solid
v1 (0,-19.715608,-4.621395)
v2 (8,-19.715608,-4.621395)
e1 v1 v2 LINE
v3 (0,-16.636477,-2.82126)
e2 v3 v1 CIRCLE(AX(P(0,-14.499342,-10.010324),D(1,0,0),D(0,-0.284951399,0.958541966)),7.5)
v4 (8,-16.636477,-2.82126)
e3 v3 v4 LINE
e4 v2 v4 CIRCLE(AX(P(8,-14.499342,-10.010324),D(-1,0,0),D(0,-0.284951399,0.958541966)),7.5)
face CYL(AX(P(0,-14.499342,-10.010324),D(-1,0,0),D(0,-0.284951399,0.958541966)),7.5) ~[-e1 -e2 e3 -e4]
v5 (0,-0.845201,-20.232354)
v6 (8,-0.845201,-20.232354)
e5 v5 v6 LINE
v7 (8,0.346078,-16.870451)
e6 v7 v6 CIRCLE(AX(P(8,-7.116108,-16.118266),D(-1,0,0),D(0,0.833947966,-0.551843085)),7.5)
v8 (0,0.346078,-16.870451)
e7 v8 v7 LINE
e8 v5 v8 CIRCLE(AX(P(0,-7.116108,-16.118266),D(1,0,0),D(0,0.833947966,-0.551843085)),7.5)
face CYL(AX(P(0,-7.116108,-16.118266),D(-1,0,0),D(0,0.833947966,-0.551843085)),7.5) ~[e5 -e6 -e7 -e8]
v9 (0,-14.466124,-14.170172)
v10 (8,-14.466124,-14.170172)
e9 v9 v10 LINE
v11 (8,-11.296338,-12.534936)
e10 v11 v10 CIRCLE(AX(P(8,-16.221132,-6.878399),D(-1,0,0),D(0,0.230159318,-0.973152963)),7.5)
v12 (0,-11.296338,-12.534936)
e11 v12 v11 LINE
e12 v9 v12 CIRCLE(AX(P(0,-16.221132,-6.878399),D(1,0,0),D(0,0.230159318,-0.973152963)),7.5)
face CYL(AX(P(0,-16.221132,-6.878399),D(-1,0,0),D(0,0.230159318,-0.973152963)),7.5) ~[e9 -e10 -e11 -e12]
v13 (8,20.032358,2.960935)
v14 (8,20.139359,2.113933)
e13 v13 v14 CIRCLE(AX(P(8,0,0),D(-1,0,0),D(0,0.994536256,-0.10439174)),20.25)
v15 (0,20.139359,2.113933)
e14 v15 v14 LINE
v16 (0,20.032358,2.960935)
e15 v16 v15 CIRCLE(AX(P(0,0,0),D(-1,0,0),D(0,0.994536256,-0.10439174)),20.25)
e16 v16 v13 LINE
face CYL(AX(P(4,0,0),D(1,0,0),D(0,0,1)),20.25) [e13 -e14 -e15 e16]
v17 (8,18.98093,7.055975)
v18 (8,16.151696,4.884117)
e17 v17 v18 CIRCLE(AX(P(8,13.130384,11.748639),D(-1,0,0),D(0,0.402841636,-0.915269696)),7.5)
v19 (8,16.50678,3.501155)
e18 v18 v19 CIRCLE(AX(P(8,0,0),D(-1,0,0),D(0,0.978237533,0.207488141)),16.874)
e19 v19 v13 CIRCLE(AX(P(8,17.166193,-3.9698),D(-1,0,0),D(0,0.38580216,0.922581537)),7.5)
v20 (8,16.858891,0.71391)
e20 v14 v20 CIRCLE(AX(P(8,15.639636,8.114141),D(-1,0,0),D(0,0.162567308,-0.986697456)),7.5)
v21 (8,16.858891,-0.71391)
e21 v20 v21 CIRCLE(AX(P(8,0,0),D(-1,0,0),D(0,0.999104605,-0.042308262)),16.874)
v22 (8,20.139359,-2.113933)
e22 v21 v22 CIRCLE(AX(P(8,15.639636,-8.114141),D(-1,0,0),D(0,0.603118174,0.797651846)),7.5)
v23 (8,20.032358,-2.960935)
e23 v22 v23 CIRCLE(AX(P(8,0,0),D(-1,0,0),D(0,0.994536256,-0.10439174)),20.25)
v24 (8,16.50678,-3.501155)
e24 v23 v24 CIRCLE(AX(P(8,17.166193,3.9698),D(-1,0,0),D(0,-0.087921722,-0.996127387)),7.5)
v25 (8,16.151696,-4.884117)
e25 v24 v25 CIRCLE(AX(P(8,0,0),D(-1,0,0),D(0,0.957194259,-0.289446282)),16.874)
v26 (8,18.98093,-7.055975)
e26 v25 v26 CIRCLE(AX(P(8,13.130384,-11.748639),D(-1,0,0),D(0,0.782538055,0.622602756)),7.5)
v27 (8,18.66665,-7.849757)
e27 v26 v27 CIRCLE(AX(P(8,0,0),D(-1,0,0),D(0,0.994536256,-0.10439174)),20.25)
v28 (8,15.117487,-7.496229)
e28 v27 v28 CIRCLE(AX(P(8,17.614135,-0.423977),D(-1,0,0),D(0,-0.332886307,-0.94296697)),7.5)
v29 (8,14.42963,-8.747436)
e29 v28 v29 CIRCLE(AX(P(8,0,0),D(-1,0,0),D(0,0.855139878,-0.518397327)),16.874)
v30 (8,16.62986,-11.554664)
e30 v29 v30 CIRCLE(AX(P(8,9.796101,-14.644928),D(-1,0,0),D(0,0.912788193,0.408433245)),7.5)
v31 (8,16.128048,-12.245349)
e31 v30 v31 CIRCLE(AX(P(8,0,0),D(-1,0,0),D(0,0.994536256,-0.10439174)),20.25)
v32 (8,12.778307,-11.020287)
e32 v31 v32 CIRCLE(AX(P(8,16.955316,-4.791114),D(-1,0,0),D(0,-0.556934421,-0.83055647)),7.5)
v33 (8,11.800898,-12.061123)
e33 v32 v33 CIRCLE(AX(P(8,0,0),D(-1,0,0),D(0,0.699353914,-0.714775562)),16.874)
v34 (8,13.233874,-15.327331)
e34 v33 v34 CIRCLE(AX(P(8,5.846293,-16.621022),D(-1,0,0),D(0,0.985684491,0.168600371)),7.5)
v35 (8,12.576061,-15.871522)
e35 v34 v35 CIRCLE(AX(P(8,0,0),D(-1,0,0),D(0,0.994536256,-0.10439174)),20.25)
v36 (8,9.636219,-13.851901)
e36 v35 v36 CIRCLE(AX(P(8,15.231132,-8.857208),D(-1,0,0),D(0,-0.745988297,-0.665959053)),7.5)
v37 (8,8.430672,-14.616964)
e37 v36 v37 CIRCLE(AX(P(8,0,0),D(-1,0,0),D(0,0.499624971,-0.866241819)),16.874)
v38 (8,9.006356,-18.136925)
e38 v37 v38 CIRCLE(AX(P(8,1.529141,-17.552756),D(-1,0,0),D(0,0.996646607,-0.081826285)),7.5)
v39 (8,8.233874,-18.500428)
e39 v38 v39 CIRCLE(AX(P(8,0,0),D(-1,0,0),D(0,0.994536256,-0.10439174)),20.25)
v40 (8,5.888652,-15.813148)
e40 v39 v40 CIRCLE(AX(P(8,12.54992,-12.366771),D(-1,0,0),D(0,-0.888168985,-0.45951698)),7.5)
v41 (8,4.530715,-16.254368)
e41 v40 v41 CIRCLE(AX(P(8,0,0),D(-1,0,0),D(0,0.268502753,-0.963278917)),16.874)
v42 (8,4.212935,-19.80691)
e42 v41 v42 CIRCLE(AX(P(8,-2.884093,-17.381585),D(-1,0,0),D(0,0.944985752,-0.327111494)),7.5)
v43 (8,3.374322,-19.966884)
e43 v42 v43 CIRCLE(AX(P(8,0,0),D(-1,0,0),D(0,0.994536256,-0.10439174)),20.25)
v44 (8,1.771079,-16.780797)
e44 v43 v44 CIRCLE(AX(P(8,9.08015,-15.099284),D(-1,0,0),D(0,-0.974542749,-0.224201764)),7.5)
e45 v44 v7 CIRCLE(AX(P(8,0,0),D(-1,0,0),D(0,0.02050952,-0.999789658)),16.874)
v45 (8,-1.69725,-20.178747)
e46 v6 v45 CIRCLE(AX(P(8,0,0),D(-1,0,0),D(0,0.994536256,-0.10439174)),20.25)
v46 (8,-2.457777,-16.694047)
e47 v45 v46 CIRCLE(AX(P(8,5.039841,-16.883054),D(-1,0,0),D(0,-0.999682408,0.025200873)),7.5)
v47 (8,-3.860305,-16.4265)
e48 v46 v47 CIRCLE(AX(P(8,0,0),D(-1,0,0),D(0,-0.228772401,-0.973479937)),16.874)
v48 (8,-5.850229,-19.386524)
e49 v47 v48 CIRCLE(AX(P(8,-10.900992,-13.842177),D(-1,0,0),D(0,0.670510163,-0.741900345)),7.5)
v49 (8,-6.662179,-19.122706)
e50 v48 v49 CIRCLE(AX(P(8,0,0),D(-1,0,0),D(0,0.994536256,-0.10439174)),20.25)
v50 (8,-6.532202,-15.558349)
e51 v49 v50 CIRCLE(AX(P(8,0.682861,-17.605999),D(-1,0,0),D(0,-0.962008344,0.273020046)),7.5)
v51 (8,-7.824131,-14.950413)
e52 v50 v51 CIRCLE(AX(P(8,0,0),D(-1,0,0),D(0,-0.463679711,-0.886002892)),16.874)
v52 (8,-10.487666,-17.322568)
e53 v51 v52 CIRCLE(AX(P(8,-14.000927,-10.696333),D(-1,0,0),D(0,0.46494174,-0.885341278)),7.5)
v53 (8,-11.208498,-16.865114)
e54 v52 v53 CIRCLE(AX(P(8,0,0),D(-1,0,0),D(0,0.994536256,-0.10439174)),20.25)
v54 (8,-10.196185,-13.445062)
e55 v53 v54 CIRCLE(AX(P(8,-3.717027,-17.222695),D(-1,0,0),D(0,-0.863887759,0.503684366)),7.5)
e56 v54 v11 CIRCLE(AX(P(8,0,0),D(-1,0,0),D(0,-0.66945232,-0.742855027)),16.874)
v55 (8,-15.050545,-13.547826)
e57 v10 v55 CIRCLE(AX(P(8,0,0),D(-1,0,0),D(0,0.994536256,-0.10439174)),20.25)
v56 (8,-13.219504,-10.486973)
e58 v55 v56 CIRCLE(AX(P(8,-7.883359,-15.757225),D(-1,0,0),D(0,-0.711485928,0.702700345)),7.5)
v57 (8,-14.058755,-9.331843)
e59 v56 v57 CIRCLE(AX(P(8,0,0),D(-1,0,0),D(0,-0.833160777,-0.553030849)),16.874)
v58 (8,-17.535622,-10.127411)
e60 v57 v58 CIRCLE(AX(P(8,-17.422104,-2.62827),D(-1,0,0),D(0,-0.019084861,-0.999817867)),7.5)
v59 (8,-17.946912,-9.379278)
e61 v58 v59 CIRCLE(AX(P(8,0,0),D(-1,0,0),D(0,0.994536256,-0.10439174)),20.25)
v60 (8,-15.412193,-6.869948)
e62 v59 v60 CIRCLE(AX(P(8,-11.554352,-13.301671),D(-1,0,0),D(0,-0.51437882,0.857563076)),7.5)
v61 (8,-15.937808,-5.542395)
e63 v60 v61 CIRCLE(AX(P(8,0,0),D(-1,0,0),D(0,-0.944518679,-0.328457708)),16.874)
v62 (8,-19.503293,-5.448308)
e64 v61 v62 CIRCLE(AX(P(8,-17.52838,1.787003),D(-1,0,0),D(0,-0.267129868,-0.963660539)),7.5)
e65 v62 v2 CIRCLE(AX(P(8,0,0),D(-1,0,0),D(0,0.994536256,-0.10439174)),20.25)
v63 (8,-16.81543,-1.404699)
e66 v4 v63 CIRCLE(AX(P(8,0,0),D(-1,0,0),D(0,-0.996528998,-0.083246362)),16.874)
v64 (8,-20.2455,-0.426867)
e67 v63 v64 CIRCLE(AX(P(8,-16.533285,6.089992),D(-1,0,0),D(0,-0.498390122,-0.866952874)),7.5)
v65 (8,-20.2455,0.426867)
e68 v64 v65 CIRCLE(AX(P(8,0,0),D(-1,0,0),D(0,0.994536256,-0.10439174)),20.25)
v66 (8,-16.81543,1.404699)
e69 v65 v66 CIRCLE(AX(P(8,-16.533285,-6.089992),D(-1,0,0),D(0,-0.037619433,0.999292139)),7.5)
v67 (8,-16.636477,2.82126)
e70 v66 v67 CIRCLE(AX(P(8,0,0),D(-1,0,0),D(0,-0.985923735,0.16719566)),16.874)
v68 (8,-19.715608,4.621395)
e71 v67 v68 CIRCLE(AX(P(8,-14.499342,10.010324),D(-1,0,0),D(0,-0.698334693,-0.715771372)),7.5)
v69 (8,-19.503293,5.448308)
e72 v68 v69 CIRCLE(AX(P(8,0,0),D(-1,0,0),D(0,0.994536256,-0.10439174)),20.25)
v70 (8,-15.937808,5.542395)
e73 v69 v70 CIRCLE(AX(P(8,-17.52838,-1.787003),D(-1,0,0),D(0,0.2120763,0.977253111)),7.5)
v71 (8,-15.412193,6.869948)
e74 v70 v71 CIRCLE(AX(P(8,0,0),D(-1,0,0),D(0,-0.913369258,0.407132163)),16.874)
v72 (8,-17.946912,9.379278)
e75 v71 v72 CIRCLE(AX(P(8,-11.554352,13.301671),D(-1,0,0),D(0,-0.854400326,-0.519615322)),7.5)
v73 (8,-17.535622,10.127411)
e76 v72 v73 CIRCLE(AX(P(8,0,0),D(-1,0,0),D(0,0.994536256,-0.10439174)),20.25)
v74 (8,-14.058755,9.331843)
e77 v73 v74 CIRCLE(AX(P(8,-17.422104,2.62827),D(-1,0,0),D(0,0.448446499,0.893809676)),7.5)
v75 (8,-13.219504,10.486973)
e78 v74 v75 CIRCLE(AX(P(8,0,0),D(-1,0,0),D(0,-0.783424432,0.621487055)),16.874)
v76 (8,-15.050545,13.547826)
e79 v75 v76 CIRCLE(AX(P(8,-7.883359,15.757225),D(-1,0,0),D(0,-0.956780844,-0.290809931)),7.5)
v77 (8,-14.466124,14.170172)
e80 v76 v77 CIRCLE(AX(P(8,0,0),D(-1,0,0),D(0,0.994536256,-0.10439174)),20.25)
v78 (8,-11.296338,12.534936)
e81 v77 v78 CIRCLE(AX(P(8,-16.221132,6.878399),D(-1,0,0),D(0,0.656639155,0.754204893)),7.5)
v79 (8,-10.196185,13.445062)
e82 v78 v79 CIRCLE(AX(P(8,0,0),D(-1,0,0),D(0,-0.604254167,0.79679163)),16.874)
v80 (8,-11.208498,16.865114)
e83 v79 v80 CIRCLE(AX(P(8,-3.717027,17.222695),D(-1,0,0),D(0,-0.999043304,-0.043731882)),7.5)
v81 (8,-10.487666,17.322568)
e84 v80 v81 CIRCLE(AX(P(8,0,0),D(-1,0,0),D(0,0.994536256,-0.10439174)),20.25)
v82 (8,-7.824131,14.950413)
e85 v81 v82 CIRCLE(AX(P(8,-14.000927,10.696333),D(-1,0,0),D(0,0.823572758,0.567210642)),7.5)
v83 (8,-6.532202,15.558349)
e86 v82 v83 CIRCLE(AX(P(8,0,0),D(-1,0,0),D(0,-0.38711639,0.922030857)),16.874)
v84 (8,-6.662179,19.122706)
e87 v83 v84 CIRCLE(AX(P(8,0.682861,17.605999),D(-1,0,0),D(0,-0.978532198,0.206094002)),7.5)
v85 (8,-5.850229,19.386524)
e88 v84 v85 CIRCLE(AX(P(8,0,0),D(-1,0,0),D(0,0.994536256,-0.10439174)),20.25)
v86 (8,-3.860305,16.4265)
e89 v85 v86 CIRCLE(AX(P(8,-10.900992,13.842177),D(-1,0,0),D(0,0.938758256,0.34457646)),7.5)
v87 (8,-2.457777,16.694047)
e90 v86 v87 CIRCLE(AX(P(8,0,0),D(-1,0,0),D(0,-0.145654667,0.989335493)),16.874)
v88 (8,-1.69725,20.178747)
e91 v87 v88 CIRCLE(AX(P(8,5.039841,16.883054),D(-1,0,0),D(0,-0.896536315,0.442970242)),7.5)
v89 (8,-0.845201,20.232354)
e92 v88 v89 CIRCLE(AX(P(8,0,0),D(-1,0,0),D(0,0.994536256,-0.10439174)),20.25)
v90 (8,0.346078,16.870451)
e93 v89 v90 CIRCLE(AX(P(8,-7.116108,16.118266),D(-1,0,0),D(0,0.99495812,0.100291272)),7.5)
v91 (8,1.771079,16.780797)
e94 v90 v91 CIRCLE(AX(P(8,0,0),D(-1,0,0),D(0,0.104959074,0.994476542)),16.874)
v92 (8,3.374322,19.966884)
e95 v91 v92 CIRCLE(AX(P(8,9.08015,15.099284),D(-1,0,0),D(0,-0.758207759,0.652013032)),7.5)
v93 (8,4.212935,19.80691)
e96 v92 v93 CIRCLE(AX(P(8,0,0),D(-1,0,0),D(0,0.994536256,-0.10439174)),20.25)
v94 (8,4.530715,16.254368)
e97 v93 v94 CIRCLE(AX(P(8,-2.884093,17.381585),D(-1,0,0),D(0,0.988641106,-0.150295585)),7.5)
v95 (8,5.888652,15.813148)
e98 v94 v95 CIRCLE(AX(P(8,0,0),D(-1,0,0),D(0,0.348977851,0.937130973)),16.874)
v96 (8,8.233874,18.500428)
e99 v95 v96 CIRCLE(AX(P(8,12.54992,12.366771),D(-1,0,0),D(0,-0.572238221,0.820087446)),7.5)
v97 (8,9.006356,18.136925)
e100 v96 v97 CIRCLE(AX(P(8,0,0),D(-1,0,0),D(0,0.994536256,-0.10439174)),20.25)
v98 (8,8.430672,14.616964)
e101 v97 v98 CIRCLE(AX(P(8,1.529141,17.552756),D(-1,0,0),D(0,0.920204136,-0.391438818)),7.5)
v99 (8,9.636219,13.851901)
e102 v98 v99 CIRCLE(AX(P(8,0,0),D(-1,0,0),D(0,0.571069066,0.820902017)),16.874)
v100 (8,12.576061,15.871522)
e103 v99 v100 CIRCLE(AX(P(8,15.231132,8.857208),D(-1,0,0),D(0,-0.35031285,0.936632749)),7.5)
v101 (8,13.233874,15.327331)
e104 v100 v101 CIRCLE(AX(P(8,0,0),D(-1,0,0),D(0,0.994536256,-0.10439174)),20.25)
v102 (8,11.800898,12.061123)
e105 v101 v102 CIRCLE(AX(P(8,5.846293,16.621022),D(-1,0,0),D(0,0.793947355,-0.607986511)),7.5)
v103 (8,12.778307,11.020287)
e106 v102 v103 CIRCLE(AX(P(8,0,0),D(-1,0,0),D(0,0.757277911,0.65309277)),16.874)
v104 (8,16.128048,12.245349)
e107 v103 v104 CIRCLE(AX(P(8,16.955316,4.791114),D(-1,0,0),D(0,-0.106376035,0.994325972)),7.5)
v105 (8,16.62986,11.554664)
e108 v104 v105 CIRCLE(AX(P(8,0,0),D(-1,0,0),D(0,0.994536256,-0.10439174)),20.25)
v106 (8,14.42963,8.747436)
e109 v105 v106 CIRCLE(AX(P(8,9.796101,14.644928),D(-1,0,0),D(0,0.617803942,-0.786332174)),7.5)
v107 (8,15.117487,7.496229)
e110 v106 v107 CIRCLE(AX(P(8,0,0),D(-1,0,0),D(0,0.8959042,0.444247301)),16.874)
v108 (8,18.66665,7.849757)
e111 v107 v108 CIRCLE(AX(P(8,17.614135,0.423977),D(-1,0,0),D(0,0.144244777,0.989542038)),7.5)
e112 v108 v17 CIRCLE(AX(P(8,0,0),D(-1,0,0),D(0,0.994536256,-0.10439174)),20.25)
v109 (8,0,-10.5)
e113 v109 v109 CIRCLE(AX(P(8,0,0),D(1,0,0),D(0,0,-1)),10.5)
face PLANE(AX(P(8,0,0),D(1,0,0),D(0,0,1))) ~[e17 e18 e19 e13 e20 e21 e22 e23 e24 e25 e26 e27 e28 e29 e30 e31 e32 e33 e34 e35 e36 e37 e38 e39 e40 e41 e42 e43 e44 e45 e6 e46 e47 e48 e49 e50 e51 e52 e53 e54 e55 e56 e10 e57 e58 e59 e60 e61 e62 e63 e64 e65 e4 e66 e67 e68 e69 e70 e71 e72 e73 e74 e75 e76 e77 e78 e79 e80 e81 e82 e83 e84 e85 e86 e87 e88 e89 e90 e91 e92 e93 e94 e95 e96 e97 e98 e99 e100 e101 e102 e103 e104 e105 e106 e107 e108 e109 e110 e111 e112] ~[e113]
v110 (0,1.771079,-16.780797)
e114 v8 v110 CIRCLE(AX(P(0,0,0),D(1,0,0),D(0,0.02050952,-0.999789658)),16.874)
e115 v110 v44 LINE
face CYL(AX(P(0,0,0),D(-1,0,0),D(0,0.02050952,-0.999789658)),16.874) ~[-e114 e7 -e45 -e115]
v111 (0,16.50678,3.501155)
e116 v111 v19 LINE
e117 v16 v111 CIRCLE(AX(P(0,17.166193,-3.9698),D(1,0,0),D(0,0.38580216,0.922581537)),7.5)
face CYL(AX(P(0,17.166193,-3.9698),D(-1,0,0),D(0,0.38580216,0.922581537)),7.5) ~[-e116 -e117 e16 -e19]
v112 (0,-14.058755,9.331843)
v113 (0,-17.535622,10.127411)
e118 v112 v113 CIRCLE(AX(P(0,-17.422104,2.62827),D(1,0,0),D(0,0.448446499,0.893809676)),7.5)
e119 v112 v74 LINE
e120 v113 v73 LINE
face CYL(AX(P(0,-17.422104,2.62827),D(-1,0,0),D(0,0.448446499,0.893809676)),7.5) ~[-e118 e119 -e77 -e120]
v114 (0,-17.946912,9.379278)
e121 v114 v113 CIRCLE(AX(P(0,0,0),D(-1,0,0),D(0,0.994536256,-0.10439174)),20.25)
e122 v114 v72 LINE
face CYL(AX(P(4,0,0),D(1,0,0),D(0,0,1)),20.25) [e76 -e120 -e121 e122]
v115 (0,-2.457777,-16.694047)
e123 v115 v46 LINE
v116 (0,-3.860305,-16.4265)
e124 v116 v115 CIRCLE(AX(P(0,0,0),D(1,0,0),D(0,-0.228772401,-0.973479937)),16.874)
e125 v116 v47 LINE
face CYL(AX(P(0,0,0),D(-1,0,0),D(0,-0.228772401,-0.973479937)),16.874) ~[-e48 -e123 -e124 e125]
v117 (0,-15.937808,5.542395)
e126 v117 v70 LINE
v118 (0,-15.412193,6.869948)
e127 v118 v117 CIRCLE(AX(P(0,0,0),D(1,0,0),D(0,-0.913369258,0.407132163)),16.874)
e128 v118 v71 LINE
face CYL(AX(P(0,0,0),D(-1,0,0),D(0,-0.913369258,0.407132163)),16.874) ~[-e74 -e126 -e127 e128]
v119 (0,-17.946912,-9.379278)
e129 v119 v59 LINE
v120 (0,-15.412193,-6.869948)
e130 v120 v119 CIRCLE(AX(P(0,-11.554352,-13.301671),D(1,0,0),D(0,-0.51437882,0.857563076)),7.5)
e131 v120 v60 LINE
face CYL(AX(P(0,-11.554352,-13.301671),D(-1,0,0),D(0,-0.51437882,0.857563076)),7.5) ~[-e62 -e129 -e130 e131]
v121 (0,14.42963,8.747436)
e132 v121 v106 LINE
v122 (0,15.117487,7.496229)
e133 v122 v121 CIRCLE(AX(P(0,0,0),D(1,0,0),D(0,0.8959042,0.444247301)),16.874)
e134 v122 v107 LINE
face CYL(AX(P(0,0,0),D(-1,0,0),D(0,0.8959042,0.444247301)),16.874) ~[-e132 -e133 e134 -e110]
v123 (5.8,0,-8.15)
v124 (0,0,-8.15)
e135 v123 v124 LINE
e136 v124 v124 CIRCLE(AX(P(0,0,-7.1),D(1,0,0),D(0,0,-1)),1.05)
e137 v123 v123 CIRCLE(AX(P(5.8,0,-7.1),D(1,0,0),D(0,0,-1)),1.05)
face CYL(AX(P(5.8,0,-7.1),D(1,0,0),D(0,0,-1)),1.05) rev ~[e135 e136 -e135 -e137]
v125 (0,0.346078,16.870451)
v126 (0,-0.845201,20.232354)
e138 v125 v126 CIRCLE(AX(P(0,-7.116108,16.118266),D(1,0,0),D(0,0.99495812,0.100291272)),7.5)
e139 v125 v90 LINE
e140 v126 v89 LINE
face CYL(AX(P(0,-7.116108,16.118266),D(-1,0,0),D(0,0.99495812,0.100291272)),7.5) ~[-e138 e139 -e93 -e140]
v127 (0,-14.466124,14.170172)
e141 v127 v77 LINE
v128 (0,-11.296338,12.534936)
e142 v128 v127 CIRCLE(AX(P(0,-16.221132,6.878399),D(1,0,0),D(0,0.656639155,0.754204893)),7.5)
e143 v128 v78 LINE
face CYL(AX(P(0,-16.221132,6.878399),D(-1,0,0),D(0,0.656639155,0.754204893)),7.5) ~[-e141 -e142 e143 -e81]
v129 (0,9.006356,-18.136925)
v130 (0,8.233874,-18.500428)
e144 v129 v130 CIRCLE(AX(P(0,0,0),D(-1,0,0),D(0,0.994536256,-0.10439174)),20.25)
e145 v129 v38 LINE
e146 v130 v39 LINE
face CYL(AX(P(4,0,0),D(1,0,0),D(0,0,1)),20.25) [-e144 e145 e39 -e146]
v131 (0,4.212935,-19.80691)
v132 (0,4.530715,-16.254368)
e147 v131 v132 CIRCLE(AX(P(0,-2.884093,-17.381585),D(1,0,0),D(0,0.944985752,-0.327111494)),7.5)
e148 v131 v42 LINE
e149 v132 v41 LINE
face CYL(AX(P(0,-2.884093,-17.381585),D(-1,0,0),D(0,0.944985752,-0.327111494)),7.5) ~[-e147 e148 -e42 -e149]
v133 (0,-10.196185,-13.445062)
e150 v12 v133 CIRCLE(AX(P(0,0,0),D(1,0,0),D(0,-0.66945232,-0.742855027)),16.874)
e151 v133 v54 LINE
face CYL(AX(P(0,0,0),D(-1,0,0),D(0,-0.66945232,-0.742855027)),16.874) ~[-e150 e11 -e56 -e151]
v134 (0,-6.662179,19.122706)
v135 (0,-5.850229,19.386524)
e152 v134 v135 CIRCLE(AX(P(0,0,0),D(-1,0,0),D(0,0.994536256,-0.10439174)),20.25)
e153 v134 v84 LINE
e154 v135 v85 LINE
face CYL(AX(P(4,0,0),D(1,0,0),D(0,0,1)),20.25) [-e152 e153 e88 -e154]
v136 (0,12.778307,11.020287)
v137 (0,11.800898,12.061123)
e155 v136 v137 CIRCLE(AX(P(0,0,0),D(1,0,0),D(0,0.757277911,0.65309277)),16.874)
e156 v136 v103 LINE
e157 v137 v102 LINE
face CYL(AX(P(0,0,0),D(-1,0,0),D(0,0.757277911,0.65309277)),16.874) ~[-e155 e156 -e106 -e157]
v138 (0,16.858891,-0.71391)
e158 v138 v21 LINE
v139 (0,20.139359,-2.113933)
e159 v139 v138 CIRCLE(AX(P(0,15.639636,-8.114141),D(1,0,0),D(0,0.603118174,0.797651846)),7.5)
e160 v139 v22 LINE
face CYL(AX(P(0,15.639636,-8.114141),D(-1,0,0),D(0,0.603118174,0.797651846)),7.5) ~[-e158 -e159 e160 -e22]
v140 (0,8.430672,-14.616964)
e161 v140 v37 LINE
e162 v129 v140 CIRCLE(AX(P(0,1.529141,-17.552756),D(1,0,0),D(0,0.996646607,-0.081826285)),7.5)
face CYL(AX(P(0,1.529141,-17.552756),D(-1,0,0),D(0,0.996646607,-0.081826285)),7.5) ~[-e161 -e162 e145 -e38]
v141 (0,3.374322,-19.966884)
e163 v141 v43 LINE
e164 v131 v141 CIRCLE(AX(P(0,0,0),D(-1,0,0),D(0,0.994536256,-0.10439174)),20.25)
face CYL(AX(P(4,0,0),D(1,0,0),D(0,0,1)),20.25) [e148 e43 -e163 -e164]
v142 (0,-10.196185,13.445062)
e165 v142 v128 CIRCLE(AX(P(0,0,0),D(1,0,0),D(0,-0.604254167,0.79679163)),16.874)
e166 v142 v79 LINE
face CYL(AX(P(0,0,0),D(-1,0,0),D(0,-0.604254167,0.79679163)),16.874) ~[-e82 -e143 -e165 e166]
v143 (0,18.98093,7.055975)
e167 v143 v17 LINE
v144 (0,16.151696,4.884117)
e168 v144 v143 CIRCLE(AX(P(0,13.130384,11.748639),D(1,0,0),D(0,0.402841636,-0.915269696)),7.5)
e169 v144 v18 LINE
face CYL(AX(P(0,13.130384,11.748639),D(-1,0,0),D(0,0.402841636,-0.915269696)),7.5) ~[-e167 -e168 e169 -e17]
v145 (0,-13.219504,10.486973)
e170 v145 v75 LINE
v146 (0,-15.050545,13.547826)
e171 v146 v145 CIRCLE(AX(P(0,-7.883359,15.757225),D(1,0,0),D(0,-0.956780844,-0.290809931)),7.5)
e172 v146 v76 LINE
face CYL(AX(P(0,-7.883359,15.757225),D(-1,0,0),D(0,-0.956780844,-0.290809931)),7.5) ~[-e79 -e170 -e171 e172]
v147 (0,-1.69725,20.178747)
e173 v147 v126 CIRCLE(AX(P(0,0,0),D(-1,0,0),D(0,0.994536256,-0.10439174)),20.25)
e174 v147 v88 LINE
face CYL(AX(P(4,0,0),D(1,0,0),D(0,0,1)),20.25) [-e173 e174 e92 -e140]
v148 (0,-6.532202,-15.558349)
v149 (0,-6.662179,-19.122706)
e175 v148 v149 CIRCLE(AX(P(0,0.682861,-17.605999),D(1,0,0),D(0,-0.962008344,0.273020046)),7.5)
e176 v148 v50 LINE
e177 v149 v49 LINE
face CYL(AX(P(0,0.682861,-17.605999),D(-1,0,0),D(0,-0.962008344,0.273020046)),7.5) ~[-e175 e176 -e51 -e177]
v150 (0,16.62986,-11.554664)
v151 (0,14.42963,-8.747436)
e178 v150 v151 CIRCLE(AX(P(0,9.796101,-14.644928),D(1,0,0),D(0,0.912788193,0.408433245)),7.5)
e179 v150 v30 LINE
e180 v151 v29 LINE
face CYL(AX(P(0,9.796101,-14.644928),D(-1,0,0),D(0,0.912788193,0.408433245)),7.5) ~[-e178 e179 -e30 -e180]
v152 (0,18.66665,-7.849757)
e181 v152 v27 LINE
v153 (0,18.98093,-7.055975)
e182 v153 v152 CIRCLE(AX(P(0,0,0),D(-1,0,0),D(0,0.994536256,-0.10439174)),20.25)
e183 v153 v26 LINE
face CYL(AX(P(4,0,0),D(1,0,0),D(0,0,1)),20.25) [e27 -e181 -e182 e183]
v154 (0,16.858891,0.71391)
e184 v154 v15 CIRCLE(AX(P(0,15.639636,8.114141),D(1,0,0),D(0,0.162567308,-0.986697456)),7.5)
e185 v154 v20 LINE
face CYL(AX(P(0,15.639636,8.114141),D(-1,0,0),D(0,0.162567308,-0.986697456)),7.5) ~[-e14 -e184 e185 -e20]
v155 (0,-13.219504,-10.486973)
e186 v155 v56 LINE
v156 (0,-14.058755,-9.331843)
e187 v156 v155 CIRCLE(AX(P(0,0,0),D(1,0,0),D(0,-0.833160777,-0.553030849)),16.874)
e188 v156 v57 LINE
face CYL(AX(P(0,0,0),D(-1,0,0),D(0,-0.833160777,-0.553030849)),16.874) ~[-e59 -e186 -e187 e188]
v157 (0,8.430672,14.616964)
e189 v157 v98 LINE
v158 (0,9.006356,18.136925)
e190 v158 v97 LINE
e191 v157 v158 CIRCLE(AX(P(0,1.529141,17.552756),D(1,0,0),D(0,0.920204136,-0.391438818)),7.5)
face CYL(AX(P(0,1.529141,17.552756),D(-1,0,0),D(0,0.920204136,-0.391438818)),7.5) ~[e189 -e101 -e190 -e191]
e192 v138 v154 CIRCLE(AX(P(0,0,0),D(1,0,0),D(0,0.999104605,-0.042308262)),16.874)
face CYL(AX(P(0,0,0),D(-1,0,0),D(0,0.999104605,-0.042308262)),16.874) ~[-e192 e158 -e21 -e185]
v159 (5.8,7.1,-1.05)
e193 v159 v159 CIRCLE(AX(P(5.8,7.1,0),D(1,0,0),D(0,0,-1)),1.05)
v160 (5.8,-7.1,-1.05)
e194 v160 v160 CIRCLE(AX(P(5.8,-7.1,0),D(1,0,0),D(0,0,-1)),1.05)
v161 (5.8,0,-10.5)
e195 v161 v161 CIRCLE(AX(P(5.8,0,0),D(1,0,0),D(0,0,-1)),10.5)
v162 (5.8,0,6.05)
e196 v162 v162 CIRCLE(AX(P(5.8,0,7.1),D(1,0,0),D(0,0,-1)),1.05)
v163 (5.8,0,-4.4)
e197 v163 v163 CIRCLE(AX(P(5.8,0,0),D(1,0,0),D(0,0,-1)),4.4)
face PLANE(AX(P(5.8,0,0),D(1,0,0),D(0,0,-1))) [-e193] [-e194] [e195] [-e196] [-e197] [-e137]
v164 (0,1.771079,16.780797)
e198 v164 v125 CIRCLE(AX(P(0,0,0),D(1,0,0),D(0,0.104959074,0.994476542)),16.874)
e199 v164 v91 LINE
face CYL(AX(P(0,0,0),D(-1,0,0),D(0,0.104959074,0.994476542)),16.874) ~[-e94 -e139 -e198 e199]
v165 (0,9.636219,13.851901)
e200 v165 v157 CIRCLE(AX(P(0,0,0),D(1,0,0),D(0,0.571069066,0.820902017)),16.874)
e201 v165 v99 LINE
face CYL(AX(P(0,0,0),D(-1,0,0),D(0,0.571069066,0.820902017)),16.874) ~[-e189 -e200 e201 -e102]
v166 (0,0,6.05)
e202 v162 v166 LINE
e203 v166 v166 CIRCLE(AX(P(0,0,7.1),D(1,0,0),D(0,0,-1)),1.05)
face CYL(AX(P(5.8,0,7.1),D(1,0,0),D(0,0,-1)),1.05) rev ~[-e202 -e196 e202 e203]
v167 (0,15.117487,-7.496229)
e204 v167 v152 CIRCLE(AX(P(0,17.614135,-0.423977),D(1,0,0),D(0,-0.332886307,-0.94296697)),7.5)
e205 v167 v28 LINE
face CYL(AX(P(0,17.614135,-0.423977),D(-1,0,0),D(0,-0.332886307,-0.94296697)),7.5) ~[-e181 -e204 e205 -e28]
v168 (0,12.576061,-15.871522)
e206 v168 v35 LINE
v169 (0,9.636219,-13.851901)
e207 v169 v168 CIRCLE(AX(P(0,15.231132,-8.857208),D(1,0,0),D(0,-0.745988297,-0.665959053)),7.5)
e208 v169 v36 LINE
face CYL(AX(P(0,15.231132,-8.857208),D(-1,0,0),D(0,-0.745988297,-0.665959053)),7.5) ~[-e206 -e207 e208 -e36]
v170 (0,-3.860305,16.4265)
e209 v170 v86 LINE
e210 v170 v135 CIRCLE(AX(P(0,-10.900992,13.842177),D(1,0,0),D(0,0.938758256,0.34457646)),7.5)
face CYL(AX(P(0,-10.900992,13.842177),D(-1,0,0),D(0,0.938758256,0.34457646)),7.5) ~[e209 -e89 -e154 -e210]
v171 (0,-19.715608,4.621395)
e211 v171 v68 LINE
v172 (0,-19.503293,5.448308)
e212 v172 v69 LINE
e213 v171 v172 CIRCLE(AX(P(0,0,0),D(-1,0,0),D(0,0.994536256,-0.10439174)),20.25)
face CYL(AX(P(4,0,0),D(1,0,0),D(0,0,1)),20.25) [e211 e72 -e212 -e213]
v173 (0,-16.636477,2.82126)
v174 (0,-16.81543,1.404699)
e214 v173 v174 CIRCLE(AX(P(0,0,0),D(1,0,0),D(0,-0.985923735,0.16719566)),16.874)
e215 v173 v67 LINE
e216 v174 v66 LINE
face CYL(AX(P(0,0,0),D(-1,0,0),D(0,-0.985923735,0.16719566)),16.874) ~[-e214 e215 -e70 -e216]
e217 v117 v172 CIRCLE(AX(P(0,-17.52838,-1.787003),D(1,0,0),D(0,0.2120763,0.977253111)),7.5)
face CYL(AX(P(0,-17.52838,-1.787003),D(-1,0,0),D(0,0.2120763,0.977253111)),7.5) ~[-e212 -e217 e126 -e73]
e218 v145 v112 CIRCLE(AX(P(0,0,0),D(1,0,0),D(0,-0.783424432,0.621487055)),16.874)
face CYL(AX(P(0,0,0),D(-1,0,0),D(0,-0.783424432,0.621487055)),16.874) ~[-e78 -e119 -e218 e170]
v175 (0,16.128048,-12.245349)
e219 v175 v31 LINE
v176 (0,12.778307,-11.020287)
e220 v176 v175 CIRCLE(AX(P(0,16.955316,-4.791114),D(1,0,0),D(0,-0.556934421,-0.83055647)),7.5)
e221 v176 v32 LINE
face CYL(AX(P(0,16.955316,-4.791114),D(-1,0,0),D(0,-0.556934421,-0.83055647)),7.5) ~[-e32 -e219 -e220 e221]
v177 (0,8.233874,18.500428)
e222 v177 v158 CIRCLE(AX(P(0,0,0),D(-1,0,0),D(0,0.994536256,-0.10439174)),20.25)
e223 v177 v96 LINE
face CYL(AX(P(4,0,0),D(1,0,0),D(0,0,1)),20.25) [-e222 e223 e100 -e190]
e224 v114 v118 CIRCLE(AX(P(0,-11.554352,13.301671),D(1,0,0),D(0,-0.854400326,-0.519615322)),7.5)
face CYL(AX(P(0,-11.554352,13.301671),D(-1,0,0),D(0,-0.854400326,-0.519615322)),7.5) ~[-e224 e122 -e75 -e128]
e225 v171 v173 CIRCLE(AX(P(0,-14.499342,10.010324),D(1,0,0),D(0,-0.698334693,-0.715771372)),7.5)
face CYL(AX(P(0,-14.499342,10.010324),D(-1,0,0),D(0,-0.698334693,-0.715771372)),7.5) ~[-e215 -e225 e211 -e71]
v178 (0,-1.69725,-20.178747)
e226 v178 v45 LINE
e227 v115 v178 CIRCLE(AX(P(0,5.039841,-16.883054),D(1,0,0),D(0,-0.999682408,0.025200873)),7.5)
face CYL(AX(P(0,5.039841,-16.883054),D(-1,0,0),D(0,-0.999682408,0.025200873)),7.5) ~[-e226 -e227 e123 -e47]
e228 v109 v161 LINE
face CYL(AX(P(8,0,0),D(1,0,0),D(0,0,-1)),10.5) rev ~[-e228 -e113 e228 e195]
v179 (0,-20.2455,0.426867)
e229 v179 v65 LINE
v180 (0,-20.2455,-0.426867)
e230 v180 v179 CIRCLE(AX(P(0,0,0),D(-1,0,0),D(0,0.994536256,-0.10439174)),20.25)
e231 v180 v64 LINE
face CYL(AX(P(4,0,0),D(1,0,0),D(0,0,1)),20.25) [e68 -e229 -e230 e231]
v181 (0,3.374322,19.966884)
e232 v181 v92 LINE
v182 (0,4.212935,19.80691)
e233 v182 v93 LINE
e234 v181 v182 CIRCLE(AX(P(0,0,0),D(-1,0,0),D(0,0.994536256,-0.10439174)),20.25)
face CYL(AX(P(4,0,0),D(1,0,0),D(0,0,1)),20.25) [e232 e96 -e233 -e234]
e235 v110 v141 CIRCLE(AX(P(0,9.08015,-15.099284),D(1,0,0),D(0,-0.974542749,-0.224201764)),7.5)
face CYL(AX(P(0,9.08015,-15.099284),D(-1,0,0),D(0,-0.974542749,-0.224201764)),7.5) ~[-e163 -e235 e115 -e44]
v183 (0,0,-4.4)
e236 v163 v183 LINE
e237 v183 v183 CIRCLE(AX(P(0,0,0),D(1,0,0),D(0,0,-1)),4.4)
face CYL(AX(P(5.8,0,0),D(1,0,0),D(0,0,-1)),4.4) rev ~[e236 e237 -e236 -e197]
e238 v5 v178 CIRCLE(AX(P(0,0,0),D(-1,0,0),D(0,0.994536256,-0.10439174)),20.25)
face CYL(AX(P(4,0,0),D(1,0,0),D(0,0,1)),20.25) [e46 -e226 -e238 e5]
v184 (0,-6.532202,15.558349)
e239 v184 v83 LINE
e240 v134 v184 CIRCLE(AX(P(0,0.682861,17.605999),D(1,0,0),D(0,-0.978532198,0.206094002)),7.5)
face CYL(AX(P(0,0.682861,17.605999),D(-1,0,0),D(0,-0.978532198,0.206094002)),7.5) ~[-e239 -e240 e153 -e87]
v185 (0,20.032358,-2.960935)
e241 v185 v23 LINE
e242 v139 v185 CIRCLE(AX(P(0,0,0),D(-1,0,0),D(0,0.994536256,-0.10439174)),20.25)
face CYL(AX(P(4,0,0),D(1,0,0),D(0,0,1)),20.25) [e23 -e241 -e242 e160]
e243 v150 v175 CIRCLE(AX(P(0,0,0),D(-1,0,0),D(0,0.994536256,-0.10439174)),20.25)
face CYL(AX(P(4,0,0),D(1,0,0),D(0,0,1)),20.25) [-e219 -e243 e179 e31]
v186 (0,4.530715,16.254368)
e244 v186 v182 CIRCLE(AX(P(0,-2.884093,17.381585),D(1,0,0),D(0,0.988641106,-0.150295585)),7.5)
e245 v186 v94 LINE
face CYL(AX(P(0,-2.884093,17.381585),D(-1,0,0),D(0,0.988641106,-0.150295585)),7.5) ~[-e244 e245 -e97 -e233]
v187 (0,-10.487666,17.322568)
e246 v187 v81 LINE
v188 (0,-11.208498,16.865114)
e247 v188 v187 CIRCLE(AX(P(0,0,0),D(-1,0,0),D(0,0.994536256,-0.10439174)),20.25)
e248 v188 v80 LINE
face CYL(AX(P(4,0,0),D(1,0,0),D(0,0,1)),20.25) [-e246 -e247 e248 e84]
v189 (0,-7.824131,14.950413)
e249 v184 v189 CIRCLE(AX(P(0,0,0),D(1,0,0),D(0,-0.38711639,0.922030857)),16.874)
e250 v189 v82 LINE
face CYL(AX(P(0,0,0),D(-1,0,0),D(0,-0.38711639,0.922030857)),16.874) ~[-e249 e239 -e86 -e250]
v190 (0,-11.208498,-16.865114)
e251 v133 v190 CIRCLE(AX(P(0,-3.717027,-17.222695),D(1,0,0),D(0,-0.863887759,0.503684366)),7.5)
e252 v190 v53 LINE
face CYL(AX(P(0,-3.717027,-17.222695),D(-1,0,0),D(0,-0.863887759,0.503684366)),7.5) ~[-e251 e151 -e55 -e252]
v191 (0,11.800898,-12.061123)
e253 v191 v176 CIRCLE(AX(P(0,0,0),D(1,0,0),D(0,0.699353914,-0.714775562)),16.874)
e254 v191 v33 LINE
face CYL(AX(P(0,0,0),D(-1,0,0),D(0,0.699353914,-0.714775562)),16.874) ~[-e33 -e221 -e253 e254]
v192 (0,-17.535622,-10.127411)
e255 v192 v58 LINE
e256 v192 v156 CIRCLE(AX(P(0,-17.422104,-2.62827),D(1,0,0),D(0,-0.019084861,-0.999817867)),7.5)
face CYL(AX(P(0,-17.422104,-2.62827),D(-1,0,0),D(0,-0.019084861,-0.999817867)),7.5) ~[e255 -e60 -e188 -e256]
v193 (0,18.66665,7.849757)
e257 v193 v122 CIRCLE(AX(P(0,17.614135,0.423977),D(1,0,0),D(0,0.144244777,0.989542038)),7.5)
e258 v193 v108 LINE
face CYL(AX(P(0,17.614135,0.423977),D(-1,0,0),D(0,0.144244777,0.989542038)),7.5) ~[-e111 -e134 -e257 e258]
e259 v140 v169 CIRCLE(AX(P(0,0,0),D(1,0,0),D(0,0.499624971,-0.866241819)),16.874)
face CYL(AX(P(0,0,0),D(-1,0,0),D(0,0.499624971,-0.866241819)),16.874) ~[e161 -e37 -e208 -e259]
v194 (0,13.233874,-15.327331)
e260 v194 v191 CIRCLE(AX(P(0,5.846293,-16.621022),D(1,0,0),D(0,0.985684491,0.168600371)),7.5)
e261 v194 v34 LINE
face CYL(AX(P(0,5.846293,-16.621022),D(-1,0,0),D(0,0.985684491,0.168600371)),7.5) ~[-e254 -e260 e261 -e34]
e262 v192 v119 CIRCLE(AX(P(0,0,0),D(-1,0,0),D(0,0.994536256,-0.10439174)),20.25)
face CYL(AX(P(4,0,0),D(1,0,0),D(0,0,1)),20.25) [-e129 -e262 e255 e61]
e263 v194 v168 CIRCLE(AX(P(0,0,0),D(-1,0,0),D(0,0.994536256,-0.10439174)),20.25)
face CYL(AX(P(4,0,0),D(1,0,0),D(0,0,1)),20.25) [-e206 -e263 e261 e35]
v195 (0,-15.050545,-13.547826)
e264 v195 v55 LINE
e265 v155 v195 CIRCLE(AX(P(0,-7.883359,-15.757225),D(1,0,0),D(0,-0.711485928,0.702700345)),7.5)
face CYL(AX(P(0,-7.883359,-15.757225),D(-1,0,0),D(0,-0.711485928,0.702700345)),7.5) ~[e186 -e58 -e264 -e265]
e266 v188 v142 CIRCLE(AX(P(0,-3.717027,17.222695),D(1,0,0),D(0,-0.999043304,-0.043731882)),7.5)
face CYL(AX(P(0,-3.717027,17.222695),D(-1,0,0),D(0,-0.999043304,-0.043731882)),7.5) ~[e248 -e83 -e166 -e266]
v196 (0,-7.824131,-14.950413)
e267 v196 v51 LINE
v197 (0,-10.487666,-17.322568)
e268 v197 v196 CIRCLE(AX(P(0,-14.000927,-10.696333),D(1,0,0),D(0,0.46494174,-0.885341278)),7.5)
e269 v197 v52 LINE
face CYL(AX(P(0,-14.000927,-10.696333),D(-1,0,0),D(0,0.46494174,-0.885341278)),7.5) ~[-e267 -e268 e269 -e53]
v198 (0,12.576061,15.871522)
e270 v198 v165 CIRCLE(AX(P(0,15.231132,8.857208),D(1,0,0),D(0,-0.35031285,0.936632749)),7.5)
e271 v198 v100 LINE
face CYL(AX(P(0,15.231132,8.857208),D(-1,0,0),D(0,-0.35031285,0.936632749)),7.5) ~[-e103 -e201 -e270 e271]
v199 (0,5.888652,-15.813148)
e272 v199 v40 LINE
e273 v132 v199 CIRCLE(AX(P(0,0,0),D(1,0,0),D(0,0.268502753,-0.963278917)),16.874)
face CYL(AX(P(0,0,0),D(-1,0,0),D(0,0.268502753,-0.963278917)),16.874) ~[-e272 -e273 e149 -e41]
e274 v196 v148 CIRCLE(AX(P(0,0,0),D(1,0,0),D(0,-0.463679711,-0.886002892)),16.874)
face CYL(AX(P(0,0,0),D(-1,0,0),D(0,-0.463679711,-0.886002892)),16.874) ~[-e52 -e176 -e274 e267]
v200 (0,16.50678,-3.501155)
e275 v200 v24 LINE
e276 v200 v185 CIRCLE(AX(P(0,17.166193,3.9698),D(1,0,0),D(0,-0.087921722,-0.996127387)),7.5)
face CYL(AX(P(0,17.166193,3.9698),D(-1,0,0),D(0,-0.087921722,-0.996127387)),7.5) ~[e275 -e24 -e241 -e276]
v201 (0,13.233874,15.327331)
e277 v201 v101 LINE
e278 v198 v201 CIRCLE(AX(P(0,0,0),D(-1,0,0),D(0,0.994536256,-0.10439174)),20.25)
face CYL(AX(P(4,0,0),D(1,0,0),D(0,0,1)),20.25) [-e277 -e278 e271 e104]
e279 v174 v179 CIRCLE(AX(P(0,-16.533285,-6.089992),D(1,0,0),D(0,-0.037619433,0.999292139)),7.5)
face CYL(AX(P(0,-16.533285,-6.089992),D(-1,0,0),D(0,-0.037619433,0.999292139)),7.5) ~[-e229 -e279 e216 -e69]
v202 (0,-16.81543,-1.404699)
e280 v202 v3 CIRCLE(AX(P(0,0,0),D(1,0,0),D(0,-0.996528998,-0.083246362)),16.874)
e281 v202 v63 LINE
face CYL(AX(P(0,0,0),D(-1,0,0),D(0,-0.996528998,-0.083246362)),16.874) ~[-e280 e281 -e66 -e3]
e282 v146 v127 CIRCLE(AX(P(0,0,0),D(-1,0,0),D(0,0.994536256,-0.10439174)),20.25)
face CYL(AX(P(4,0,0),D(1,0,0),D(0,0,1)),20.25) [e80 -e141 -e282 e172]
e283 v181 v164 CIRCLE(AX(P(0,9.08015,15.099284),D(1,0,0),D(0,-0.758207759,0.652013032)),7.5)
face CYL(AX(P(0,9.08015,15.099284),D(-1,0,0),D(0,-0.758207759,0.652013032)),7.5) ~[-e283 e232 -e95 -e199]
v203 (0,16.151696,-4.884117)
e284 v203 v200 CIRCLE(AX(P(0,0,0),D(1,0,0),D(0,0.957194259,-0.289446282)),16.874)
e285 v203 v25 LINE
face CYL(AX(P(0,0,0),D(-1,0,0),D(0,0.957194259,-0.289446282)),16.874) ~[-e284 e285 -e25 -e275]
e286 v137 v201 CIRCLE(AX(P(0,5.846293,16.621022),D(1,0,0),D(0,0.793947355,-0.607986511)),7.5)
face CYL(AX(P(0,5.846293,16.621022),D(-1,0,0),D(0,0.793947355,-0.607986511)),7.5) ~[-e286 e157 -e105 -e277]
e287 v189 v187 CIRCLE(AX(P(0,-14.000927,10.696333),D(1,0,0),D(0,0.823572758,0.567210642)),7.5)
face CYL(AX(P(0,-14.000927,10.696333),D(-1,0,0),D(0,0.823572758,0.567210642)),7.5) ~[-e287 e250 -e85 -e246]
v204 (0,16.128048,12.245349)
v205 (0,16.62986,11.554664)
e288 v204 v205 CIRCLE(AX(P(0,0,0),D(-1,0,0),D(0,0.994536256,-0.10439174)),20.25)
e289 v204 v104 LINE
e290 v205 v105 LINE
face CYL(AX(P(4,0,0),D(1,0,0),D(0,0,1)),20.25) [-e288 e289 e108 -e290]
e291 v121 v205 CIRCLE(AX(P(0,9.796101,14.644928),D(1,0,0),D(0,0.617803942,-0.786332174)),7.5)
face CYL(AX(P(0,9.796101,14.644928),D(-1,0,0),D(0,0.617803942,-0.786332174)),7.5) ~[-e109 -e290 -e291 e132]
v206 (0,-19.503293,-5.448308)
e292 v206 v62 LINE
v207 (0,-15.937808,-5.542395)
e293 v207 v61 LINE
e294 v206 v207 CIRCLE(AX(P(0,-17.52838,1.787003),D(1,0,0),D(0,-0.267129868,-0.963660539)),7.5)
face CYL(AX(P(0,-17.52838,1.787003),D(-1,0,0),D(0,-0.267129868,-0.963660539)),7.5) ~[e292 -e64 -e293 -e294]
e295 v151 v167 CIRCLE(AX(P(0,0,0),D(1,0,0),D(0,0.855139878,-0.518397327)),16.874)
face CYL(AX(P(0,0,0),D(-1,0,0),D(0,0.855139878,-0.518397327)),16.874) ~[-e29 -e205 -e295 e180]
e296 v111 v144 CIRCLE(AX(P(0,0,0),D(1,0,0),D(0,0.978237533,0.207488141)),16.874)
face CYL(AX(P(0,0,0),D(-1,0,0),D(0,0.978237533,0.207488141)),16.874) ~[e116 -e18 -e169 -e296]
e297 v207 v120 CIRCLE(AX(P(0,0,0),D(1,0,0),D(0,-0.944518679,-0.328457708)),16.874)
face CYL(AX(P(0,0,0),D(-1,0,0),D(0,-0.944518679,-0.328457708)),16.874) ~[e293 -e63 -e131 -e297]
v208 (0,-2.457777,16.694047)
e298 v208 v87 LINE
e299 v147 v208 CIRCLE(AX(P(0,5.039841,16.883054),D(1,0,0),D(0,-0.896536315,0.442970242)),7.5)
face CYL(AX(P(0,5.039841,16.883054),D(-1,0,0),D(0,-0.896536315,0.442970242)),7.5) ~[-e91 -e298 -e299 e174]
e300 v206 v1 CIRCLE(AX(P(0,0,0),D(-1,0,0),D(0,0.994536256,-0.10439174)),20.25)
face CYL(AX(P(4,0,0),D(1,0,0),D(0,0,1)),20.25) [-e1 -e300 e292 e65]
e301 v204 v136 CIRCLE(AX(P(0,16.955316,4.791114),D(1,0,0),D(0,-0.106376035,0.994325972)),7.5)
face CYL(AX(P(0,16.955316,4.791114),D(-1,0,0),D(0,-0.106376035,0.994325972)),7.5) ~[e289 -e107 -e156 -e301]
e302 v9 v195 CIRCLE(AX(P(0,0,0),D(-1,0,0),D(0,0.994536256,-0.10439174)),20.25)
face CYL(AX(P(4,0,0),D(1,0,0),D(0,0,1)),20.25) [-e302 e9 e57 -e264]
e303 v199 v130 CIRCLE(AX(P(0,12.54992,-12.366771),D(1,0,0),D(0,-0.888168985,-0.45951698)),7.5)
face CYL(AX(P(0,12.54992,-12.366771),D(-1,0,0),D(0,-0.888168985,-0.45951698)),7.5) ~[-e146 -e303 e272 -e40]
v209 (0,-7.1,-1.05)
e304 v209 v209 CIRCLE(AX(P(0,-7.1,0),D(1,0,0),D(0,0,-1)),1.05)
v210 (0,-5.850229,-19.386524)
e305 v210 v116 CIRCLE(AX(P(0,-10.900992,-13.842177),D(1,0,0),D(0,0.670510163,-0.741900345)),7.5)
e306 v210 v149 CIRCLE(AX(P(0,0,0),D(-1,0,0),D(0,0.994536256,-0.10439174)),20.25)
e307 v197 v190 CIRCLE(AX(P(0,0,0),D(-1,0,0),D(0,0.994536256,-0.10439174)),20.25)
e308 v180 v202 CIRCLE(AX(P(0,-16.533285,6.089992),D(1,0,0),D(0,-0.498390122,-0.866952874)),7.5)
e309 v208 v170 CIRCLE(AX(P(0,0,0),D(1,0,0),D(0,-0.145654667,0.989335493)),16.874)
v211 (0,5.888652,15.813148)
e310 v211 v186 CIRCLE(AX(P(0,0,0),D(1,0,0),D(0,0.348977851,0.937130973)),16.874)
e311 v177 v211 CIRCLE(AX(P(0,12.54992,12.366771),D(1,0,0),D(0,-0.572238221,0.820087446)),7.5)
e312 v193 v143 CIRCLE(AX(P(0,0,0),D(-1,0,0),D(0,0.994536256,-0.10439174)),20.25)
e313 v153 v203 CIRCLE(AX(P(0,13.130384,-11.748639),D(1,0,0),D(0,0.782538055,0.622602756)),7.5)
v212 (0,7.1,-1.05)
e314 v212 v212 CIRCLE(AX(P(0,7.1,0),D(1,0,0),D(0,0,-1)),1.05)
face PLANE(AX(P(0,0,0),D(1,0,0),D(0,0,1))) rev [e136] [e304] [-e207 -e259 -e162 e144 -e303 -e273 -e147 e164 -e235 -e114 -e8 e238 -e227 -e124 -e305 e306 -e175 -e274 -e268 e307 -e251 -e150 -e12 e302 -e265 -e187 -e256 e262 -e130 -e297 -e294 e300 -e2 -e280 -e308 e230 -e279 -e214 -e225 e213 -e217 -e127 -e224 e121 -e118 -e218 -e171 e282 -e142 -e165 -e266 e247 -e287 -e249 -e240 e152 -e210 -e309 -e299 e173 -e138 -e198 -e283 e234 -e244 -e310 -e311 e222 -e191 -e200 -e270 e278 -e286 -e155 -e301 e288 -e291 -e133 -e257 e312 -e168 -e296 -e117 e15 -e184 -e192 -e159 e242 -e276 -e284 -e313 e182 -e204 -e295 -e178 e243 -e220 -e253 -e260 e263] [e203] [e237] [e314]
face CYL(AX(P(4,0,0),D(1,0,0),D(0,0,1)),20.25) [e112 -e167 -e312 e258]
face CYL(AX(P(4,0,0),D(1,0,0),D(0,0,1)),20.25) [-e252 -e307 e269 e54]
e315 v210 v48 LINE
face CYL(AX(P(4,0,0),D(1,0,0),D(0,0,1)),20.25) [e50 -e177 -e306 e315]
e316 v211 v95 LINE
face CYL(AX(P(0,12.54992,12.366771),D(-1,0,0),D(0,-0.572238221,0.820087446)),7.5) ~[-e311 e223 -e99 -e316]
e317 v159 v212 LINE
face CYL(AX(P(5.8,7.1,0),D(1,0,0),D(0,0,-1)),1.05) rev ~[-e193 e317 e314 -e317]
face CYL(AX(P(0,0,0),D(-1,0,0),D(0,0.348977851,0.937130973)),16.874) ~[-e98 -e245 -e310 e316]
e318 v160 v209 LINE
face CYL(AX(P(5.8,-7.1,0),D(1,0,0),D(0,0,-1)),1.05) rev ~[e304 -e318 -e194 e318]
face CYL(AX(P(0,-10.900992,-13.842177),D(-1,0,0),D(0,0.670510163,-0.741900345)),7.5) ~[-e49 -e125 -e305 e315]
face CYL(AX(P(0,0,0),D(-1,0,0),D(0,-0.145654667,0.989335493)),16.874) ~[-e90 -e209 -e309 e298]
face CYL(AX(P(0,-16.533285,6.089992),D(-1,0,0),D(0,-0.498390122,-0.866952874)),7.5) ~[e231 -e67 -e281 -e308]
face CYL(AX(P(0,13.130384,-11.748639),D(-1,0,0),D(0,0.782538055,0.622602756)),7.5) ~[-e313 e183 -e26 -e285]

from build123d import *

# Parameters (mm, degrees)
BASPROSKE_W         = 8
BASPROSKE_H         = 20.25
TOOTHCUT_DEPTH      = 30.734239523
TEETHCUTS_COUNT     = 25
TEETHCUTS_ANGLE     = 345.6
BORSKE_R            = 0.5
BORE_DEPTH          = 50.0000508
SKETCH_1_R          = 10.5
CUT_EXTRUDE_1_DEPTH = 2.2
SKETCH_2_R          = 4.4
SKETCH_2_R_2        = 1.05
CUT_EXTRUDE_2_DEPTH = 30.207030593


with BuildPart() as part:
    # BasProSke → Base-Revolve (revolve)
    with BuildSketch(Plane(origin=(0, 0, 0), x_dir=(1, 0, 0), z_dir=(0, 1, 0))):
        with Locations((4, 10.125)):
            Rectangle(BASPROSKE_W, BASPROSKE_H)
    revolve(axis=Axis((-10, 0, 0), (1, 0, 0)))

    # TooCutSke → ToothCut (cut, through all)
    with BuildSketch(Plane(origin=(0, 0, 0), x_dir=(0, 0, -1), z_dir=(1, 0, 0))):
        with BuildLine():
            ThreePointArc((0.713909619, 16.858891098), (0, 16.874), (-0.713909619, 16.858891098))
            ThreePointArc((-0.713909619, 16.858891098), (-1.221902209, 18.597177626), (-2.131751691, 20.163022588))
            ThreePointArc((-2.131751691, 20.163022588), (0, 20.2754), (2.131751691, 20.163022588))
            ThreePointArc((2.131751691, 20.163022588), (1.221902209, 18.597177626), (0.713909619, 16.858891098))
        make_face()
    toothcut = extrude(amount=TOOTHCUT_DEPTH, mode=Mode.SUBTRACT)

    # TeethCuts: ToothCut ×25 about axis
    teethcuts_axis = Axis((-10, 0, 0), (1, 0, 0))
    for i in range(1, TEETHCUTS_COUNT):
        add(toothcut.rotate(teethcuts_axis, i * TEETHCUTS_ANGLE / (TEETHCUTS_COUNT - 1)), mode=Mode.SUBTRACT)

    # BorSke → Bore (cut, symmetric)
    with BuildSketch(Plane(origin=(0, 0, 0), x_dir=(0, 0, -1), z_dir=(1, 0, 0))):
        Circle(BORSKE_R)
    extrude(amount=BORE_DEPTH, both=True, mode=Mode.SUBTRACT)

    # 草图1 → 切除-拉伸1 (cut)
    with BuildSketch(Plane(origin=(8, 0, 0), x_dir=(0, 0, -1), z_dir=(1, 0, 0))):
        Circle(SKETCH_1_R)
    extrude(amount=-CUT_EXTRUDE_1_DEPTH, mode=Mode.SUBTRACT)

    # 草图2 → 切除-拉伸2 (cut, through all)
    with BuildSketch(Plane(origin=(5.8, 0, 0), x_dir=(0, 0, -1), z_dir=(1, 0, 0))):
        Circle(SKETCH_2_R)
        with Locations((0, 7.1)):
            Circle(SKETCH_2_R_2)
        with Locations((7.1, 0)):
            Circle(SKETCH_2_R_2)
        with Locations((0, -7.1)):
            Circle(SKETCH_2_R_2)
        with Locations((-7.1, 0)):
            Circle(SKETCH_2_R_2)
    extrude(amount=-CUT_EXTRUDE_2_DEPTH, mode=Mode.SUBTRACT)


solid = part.part
